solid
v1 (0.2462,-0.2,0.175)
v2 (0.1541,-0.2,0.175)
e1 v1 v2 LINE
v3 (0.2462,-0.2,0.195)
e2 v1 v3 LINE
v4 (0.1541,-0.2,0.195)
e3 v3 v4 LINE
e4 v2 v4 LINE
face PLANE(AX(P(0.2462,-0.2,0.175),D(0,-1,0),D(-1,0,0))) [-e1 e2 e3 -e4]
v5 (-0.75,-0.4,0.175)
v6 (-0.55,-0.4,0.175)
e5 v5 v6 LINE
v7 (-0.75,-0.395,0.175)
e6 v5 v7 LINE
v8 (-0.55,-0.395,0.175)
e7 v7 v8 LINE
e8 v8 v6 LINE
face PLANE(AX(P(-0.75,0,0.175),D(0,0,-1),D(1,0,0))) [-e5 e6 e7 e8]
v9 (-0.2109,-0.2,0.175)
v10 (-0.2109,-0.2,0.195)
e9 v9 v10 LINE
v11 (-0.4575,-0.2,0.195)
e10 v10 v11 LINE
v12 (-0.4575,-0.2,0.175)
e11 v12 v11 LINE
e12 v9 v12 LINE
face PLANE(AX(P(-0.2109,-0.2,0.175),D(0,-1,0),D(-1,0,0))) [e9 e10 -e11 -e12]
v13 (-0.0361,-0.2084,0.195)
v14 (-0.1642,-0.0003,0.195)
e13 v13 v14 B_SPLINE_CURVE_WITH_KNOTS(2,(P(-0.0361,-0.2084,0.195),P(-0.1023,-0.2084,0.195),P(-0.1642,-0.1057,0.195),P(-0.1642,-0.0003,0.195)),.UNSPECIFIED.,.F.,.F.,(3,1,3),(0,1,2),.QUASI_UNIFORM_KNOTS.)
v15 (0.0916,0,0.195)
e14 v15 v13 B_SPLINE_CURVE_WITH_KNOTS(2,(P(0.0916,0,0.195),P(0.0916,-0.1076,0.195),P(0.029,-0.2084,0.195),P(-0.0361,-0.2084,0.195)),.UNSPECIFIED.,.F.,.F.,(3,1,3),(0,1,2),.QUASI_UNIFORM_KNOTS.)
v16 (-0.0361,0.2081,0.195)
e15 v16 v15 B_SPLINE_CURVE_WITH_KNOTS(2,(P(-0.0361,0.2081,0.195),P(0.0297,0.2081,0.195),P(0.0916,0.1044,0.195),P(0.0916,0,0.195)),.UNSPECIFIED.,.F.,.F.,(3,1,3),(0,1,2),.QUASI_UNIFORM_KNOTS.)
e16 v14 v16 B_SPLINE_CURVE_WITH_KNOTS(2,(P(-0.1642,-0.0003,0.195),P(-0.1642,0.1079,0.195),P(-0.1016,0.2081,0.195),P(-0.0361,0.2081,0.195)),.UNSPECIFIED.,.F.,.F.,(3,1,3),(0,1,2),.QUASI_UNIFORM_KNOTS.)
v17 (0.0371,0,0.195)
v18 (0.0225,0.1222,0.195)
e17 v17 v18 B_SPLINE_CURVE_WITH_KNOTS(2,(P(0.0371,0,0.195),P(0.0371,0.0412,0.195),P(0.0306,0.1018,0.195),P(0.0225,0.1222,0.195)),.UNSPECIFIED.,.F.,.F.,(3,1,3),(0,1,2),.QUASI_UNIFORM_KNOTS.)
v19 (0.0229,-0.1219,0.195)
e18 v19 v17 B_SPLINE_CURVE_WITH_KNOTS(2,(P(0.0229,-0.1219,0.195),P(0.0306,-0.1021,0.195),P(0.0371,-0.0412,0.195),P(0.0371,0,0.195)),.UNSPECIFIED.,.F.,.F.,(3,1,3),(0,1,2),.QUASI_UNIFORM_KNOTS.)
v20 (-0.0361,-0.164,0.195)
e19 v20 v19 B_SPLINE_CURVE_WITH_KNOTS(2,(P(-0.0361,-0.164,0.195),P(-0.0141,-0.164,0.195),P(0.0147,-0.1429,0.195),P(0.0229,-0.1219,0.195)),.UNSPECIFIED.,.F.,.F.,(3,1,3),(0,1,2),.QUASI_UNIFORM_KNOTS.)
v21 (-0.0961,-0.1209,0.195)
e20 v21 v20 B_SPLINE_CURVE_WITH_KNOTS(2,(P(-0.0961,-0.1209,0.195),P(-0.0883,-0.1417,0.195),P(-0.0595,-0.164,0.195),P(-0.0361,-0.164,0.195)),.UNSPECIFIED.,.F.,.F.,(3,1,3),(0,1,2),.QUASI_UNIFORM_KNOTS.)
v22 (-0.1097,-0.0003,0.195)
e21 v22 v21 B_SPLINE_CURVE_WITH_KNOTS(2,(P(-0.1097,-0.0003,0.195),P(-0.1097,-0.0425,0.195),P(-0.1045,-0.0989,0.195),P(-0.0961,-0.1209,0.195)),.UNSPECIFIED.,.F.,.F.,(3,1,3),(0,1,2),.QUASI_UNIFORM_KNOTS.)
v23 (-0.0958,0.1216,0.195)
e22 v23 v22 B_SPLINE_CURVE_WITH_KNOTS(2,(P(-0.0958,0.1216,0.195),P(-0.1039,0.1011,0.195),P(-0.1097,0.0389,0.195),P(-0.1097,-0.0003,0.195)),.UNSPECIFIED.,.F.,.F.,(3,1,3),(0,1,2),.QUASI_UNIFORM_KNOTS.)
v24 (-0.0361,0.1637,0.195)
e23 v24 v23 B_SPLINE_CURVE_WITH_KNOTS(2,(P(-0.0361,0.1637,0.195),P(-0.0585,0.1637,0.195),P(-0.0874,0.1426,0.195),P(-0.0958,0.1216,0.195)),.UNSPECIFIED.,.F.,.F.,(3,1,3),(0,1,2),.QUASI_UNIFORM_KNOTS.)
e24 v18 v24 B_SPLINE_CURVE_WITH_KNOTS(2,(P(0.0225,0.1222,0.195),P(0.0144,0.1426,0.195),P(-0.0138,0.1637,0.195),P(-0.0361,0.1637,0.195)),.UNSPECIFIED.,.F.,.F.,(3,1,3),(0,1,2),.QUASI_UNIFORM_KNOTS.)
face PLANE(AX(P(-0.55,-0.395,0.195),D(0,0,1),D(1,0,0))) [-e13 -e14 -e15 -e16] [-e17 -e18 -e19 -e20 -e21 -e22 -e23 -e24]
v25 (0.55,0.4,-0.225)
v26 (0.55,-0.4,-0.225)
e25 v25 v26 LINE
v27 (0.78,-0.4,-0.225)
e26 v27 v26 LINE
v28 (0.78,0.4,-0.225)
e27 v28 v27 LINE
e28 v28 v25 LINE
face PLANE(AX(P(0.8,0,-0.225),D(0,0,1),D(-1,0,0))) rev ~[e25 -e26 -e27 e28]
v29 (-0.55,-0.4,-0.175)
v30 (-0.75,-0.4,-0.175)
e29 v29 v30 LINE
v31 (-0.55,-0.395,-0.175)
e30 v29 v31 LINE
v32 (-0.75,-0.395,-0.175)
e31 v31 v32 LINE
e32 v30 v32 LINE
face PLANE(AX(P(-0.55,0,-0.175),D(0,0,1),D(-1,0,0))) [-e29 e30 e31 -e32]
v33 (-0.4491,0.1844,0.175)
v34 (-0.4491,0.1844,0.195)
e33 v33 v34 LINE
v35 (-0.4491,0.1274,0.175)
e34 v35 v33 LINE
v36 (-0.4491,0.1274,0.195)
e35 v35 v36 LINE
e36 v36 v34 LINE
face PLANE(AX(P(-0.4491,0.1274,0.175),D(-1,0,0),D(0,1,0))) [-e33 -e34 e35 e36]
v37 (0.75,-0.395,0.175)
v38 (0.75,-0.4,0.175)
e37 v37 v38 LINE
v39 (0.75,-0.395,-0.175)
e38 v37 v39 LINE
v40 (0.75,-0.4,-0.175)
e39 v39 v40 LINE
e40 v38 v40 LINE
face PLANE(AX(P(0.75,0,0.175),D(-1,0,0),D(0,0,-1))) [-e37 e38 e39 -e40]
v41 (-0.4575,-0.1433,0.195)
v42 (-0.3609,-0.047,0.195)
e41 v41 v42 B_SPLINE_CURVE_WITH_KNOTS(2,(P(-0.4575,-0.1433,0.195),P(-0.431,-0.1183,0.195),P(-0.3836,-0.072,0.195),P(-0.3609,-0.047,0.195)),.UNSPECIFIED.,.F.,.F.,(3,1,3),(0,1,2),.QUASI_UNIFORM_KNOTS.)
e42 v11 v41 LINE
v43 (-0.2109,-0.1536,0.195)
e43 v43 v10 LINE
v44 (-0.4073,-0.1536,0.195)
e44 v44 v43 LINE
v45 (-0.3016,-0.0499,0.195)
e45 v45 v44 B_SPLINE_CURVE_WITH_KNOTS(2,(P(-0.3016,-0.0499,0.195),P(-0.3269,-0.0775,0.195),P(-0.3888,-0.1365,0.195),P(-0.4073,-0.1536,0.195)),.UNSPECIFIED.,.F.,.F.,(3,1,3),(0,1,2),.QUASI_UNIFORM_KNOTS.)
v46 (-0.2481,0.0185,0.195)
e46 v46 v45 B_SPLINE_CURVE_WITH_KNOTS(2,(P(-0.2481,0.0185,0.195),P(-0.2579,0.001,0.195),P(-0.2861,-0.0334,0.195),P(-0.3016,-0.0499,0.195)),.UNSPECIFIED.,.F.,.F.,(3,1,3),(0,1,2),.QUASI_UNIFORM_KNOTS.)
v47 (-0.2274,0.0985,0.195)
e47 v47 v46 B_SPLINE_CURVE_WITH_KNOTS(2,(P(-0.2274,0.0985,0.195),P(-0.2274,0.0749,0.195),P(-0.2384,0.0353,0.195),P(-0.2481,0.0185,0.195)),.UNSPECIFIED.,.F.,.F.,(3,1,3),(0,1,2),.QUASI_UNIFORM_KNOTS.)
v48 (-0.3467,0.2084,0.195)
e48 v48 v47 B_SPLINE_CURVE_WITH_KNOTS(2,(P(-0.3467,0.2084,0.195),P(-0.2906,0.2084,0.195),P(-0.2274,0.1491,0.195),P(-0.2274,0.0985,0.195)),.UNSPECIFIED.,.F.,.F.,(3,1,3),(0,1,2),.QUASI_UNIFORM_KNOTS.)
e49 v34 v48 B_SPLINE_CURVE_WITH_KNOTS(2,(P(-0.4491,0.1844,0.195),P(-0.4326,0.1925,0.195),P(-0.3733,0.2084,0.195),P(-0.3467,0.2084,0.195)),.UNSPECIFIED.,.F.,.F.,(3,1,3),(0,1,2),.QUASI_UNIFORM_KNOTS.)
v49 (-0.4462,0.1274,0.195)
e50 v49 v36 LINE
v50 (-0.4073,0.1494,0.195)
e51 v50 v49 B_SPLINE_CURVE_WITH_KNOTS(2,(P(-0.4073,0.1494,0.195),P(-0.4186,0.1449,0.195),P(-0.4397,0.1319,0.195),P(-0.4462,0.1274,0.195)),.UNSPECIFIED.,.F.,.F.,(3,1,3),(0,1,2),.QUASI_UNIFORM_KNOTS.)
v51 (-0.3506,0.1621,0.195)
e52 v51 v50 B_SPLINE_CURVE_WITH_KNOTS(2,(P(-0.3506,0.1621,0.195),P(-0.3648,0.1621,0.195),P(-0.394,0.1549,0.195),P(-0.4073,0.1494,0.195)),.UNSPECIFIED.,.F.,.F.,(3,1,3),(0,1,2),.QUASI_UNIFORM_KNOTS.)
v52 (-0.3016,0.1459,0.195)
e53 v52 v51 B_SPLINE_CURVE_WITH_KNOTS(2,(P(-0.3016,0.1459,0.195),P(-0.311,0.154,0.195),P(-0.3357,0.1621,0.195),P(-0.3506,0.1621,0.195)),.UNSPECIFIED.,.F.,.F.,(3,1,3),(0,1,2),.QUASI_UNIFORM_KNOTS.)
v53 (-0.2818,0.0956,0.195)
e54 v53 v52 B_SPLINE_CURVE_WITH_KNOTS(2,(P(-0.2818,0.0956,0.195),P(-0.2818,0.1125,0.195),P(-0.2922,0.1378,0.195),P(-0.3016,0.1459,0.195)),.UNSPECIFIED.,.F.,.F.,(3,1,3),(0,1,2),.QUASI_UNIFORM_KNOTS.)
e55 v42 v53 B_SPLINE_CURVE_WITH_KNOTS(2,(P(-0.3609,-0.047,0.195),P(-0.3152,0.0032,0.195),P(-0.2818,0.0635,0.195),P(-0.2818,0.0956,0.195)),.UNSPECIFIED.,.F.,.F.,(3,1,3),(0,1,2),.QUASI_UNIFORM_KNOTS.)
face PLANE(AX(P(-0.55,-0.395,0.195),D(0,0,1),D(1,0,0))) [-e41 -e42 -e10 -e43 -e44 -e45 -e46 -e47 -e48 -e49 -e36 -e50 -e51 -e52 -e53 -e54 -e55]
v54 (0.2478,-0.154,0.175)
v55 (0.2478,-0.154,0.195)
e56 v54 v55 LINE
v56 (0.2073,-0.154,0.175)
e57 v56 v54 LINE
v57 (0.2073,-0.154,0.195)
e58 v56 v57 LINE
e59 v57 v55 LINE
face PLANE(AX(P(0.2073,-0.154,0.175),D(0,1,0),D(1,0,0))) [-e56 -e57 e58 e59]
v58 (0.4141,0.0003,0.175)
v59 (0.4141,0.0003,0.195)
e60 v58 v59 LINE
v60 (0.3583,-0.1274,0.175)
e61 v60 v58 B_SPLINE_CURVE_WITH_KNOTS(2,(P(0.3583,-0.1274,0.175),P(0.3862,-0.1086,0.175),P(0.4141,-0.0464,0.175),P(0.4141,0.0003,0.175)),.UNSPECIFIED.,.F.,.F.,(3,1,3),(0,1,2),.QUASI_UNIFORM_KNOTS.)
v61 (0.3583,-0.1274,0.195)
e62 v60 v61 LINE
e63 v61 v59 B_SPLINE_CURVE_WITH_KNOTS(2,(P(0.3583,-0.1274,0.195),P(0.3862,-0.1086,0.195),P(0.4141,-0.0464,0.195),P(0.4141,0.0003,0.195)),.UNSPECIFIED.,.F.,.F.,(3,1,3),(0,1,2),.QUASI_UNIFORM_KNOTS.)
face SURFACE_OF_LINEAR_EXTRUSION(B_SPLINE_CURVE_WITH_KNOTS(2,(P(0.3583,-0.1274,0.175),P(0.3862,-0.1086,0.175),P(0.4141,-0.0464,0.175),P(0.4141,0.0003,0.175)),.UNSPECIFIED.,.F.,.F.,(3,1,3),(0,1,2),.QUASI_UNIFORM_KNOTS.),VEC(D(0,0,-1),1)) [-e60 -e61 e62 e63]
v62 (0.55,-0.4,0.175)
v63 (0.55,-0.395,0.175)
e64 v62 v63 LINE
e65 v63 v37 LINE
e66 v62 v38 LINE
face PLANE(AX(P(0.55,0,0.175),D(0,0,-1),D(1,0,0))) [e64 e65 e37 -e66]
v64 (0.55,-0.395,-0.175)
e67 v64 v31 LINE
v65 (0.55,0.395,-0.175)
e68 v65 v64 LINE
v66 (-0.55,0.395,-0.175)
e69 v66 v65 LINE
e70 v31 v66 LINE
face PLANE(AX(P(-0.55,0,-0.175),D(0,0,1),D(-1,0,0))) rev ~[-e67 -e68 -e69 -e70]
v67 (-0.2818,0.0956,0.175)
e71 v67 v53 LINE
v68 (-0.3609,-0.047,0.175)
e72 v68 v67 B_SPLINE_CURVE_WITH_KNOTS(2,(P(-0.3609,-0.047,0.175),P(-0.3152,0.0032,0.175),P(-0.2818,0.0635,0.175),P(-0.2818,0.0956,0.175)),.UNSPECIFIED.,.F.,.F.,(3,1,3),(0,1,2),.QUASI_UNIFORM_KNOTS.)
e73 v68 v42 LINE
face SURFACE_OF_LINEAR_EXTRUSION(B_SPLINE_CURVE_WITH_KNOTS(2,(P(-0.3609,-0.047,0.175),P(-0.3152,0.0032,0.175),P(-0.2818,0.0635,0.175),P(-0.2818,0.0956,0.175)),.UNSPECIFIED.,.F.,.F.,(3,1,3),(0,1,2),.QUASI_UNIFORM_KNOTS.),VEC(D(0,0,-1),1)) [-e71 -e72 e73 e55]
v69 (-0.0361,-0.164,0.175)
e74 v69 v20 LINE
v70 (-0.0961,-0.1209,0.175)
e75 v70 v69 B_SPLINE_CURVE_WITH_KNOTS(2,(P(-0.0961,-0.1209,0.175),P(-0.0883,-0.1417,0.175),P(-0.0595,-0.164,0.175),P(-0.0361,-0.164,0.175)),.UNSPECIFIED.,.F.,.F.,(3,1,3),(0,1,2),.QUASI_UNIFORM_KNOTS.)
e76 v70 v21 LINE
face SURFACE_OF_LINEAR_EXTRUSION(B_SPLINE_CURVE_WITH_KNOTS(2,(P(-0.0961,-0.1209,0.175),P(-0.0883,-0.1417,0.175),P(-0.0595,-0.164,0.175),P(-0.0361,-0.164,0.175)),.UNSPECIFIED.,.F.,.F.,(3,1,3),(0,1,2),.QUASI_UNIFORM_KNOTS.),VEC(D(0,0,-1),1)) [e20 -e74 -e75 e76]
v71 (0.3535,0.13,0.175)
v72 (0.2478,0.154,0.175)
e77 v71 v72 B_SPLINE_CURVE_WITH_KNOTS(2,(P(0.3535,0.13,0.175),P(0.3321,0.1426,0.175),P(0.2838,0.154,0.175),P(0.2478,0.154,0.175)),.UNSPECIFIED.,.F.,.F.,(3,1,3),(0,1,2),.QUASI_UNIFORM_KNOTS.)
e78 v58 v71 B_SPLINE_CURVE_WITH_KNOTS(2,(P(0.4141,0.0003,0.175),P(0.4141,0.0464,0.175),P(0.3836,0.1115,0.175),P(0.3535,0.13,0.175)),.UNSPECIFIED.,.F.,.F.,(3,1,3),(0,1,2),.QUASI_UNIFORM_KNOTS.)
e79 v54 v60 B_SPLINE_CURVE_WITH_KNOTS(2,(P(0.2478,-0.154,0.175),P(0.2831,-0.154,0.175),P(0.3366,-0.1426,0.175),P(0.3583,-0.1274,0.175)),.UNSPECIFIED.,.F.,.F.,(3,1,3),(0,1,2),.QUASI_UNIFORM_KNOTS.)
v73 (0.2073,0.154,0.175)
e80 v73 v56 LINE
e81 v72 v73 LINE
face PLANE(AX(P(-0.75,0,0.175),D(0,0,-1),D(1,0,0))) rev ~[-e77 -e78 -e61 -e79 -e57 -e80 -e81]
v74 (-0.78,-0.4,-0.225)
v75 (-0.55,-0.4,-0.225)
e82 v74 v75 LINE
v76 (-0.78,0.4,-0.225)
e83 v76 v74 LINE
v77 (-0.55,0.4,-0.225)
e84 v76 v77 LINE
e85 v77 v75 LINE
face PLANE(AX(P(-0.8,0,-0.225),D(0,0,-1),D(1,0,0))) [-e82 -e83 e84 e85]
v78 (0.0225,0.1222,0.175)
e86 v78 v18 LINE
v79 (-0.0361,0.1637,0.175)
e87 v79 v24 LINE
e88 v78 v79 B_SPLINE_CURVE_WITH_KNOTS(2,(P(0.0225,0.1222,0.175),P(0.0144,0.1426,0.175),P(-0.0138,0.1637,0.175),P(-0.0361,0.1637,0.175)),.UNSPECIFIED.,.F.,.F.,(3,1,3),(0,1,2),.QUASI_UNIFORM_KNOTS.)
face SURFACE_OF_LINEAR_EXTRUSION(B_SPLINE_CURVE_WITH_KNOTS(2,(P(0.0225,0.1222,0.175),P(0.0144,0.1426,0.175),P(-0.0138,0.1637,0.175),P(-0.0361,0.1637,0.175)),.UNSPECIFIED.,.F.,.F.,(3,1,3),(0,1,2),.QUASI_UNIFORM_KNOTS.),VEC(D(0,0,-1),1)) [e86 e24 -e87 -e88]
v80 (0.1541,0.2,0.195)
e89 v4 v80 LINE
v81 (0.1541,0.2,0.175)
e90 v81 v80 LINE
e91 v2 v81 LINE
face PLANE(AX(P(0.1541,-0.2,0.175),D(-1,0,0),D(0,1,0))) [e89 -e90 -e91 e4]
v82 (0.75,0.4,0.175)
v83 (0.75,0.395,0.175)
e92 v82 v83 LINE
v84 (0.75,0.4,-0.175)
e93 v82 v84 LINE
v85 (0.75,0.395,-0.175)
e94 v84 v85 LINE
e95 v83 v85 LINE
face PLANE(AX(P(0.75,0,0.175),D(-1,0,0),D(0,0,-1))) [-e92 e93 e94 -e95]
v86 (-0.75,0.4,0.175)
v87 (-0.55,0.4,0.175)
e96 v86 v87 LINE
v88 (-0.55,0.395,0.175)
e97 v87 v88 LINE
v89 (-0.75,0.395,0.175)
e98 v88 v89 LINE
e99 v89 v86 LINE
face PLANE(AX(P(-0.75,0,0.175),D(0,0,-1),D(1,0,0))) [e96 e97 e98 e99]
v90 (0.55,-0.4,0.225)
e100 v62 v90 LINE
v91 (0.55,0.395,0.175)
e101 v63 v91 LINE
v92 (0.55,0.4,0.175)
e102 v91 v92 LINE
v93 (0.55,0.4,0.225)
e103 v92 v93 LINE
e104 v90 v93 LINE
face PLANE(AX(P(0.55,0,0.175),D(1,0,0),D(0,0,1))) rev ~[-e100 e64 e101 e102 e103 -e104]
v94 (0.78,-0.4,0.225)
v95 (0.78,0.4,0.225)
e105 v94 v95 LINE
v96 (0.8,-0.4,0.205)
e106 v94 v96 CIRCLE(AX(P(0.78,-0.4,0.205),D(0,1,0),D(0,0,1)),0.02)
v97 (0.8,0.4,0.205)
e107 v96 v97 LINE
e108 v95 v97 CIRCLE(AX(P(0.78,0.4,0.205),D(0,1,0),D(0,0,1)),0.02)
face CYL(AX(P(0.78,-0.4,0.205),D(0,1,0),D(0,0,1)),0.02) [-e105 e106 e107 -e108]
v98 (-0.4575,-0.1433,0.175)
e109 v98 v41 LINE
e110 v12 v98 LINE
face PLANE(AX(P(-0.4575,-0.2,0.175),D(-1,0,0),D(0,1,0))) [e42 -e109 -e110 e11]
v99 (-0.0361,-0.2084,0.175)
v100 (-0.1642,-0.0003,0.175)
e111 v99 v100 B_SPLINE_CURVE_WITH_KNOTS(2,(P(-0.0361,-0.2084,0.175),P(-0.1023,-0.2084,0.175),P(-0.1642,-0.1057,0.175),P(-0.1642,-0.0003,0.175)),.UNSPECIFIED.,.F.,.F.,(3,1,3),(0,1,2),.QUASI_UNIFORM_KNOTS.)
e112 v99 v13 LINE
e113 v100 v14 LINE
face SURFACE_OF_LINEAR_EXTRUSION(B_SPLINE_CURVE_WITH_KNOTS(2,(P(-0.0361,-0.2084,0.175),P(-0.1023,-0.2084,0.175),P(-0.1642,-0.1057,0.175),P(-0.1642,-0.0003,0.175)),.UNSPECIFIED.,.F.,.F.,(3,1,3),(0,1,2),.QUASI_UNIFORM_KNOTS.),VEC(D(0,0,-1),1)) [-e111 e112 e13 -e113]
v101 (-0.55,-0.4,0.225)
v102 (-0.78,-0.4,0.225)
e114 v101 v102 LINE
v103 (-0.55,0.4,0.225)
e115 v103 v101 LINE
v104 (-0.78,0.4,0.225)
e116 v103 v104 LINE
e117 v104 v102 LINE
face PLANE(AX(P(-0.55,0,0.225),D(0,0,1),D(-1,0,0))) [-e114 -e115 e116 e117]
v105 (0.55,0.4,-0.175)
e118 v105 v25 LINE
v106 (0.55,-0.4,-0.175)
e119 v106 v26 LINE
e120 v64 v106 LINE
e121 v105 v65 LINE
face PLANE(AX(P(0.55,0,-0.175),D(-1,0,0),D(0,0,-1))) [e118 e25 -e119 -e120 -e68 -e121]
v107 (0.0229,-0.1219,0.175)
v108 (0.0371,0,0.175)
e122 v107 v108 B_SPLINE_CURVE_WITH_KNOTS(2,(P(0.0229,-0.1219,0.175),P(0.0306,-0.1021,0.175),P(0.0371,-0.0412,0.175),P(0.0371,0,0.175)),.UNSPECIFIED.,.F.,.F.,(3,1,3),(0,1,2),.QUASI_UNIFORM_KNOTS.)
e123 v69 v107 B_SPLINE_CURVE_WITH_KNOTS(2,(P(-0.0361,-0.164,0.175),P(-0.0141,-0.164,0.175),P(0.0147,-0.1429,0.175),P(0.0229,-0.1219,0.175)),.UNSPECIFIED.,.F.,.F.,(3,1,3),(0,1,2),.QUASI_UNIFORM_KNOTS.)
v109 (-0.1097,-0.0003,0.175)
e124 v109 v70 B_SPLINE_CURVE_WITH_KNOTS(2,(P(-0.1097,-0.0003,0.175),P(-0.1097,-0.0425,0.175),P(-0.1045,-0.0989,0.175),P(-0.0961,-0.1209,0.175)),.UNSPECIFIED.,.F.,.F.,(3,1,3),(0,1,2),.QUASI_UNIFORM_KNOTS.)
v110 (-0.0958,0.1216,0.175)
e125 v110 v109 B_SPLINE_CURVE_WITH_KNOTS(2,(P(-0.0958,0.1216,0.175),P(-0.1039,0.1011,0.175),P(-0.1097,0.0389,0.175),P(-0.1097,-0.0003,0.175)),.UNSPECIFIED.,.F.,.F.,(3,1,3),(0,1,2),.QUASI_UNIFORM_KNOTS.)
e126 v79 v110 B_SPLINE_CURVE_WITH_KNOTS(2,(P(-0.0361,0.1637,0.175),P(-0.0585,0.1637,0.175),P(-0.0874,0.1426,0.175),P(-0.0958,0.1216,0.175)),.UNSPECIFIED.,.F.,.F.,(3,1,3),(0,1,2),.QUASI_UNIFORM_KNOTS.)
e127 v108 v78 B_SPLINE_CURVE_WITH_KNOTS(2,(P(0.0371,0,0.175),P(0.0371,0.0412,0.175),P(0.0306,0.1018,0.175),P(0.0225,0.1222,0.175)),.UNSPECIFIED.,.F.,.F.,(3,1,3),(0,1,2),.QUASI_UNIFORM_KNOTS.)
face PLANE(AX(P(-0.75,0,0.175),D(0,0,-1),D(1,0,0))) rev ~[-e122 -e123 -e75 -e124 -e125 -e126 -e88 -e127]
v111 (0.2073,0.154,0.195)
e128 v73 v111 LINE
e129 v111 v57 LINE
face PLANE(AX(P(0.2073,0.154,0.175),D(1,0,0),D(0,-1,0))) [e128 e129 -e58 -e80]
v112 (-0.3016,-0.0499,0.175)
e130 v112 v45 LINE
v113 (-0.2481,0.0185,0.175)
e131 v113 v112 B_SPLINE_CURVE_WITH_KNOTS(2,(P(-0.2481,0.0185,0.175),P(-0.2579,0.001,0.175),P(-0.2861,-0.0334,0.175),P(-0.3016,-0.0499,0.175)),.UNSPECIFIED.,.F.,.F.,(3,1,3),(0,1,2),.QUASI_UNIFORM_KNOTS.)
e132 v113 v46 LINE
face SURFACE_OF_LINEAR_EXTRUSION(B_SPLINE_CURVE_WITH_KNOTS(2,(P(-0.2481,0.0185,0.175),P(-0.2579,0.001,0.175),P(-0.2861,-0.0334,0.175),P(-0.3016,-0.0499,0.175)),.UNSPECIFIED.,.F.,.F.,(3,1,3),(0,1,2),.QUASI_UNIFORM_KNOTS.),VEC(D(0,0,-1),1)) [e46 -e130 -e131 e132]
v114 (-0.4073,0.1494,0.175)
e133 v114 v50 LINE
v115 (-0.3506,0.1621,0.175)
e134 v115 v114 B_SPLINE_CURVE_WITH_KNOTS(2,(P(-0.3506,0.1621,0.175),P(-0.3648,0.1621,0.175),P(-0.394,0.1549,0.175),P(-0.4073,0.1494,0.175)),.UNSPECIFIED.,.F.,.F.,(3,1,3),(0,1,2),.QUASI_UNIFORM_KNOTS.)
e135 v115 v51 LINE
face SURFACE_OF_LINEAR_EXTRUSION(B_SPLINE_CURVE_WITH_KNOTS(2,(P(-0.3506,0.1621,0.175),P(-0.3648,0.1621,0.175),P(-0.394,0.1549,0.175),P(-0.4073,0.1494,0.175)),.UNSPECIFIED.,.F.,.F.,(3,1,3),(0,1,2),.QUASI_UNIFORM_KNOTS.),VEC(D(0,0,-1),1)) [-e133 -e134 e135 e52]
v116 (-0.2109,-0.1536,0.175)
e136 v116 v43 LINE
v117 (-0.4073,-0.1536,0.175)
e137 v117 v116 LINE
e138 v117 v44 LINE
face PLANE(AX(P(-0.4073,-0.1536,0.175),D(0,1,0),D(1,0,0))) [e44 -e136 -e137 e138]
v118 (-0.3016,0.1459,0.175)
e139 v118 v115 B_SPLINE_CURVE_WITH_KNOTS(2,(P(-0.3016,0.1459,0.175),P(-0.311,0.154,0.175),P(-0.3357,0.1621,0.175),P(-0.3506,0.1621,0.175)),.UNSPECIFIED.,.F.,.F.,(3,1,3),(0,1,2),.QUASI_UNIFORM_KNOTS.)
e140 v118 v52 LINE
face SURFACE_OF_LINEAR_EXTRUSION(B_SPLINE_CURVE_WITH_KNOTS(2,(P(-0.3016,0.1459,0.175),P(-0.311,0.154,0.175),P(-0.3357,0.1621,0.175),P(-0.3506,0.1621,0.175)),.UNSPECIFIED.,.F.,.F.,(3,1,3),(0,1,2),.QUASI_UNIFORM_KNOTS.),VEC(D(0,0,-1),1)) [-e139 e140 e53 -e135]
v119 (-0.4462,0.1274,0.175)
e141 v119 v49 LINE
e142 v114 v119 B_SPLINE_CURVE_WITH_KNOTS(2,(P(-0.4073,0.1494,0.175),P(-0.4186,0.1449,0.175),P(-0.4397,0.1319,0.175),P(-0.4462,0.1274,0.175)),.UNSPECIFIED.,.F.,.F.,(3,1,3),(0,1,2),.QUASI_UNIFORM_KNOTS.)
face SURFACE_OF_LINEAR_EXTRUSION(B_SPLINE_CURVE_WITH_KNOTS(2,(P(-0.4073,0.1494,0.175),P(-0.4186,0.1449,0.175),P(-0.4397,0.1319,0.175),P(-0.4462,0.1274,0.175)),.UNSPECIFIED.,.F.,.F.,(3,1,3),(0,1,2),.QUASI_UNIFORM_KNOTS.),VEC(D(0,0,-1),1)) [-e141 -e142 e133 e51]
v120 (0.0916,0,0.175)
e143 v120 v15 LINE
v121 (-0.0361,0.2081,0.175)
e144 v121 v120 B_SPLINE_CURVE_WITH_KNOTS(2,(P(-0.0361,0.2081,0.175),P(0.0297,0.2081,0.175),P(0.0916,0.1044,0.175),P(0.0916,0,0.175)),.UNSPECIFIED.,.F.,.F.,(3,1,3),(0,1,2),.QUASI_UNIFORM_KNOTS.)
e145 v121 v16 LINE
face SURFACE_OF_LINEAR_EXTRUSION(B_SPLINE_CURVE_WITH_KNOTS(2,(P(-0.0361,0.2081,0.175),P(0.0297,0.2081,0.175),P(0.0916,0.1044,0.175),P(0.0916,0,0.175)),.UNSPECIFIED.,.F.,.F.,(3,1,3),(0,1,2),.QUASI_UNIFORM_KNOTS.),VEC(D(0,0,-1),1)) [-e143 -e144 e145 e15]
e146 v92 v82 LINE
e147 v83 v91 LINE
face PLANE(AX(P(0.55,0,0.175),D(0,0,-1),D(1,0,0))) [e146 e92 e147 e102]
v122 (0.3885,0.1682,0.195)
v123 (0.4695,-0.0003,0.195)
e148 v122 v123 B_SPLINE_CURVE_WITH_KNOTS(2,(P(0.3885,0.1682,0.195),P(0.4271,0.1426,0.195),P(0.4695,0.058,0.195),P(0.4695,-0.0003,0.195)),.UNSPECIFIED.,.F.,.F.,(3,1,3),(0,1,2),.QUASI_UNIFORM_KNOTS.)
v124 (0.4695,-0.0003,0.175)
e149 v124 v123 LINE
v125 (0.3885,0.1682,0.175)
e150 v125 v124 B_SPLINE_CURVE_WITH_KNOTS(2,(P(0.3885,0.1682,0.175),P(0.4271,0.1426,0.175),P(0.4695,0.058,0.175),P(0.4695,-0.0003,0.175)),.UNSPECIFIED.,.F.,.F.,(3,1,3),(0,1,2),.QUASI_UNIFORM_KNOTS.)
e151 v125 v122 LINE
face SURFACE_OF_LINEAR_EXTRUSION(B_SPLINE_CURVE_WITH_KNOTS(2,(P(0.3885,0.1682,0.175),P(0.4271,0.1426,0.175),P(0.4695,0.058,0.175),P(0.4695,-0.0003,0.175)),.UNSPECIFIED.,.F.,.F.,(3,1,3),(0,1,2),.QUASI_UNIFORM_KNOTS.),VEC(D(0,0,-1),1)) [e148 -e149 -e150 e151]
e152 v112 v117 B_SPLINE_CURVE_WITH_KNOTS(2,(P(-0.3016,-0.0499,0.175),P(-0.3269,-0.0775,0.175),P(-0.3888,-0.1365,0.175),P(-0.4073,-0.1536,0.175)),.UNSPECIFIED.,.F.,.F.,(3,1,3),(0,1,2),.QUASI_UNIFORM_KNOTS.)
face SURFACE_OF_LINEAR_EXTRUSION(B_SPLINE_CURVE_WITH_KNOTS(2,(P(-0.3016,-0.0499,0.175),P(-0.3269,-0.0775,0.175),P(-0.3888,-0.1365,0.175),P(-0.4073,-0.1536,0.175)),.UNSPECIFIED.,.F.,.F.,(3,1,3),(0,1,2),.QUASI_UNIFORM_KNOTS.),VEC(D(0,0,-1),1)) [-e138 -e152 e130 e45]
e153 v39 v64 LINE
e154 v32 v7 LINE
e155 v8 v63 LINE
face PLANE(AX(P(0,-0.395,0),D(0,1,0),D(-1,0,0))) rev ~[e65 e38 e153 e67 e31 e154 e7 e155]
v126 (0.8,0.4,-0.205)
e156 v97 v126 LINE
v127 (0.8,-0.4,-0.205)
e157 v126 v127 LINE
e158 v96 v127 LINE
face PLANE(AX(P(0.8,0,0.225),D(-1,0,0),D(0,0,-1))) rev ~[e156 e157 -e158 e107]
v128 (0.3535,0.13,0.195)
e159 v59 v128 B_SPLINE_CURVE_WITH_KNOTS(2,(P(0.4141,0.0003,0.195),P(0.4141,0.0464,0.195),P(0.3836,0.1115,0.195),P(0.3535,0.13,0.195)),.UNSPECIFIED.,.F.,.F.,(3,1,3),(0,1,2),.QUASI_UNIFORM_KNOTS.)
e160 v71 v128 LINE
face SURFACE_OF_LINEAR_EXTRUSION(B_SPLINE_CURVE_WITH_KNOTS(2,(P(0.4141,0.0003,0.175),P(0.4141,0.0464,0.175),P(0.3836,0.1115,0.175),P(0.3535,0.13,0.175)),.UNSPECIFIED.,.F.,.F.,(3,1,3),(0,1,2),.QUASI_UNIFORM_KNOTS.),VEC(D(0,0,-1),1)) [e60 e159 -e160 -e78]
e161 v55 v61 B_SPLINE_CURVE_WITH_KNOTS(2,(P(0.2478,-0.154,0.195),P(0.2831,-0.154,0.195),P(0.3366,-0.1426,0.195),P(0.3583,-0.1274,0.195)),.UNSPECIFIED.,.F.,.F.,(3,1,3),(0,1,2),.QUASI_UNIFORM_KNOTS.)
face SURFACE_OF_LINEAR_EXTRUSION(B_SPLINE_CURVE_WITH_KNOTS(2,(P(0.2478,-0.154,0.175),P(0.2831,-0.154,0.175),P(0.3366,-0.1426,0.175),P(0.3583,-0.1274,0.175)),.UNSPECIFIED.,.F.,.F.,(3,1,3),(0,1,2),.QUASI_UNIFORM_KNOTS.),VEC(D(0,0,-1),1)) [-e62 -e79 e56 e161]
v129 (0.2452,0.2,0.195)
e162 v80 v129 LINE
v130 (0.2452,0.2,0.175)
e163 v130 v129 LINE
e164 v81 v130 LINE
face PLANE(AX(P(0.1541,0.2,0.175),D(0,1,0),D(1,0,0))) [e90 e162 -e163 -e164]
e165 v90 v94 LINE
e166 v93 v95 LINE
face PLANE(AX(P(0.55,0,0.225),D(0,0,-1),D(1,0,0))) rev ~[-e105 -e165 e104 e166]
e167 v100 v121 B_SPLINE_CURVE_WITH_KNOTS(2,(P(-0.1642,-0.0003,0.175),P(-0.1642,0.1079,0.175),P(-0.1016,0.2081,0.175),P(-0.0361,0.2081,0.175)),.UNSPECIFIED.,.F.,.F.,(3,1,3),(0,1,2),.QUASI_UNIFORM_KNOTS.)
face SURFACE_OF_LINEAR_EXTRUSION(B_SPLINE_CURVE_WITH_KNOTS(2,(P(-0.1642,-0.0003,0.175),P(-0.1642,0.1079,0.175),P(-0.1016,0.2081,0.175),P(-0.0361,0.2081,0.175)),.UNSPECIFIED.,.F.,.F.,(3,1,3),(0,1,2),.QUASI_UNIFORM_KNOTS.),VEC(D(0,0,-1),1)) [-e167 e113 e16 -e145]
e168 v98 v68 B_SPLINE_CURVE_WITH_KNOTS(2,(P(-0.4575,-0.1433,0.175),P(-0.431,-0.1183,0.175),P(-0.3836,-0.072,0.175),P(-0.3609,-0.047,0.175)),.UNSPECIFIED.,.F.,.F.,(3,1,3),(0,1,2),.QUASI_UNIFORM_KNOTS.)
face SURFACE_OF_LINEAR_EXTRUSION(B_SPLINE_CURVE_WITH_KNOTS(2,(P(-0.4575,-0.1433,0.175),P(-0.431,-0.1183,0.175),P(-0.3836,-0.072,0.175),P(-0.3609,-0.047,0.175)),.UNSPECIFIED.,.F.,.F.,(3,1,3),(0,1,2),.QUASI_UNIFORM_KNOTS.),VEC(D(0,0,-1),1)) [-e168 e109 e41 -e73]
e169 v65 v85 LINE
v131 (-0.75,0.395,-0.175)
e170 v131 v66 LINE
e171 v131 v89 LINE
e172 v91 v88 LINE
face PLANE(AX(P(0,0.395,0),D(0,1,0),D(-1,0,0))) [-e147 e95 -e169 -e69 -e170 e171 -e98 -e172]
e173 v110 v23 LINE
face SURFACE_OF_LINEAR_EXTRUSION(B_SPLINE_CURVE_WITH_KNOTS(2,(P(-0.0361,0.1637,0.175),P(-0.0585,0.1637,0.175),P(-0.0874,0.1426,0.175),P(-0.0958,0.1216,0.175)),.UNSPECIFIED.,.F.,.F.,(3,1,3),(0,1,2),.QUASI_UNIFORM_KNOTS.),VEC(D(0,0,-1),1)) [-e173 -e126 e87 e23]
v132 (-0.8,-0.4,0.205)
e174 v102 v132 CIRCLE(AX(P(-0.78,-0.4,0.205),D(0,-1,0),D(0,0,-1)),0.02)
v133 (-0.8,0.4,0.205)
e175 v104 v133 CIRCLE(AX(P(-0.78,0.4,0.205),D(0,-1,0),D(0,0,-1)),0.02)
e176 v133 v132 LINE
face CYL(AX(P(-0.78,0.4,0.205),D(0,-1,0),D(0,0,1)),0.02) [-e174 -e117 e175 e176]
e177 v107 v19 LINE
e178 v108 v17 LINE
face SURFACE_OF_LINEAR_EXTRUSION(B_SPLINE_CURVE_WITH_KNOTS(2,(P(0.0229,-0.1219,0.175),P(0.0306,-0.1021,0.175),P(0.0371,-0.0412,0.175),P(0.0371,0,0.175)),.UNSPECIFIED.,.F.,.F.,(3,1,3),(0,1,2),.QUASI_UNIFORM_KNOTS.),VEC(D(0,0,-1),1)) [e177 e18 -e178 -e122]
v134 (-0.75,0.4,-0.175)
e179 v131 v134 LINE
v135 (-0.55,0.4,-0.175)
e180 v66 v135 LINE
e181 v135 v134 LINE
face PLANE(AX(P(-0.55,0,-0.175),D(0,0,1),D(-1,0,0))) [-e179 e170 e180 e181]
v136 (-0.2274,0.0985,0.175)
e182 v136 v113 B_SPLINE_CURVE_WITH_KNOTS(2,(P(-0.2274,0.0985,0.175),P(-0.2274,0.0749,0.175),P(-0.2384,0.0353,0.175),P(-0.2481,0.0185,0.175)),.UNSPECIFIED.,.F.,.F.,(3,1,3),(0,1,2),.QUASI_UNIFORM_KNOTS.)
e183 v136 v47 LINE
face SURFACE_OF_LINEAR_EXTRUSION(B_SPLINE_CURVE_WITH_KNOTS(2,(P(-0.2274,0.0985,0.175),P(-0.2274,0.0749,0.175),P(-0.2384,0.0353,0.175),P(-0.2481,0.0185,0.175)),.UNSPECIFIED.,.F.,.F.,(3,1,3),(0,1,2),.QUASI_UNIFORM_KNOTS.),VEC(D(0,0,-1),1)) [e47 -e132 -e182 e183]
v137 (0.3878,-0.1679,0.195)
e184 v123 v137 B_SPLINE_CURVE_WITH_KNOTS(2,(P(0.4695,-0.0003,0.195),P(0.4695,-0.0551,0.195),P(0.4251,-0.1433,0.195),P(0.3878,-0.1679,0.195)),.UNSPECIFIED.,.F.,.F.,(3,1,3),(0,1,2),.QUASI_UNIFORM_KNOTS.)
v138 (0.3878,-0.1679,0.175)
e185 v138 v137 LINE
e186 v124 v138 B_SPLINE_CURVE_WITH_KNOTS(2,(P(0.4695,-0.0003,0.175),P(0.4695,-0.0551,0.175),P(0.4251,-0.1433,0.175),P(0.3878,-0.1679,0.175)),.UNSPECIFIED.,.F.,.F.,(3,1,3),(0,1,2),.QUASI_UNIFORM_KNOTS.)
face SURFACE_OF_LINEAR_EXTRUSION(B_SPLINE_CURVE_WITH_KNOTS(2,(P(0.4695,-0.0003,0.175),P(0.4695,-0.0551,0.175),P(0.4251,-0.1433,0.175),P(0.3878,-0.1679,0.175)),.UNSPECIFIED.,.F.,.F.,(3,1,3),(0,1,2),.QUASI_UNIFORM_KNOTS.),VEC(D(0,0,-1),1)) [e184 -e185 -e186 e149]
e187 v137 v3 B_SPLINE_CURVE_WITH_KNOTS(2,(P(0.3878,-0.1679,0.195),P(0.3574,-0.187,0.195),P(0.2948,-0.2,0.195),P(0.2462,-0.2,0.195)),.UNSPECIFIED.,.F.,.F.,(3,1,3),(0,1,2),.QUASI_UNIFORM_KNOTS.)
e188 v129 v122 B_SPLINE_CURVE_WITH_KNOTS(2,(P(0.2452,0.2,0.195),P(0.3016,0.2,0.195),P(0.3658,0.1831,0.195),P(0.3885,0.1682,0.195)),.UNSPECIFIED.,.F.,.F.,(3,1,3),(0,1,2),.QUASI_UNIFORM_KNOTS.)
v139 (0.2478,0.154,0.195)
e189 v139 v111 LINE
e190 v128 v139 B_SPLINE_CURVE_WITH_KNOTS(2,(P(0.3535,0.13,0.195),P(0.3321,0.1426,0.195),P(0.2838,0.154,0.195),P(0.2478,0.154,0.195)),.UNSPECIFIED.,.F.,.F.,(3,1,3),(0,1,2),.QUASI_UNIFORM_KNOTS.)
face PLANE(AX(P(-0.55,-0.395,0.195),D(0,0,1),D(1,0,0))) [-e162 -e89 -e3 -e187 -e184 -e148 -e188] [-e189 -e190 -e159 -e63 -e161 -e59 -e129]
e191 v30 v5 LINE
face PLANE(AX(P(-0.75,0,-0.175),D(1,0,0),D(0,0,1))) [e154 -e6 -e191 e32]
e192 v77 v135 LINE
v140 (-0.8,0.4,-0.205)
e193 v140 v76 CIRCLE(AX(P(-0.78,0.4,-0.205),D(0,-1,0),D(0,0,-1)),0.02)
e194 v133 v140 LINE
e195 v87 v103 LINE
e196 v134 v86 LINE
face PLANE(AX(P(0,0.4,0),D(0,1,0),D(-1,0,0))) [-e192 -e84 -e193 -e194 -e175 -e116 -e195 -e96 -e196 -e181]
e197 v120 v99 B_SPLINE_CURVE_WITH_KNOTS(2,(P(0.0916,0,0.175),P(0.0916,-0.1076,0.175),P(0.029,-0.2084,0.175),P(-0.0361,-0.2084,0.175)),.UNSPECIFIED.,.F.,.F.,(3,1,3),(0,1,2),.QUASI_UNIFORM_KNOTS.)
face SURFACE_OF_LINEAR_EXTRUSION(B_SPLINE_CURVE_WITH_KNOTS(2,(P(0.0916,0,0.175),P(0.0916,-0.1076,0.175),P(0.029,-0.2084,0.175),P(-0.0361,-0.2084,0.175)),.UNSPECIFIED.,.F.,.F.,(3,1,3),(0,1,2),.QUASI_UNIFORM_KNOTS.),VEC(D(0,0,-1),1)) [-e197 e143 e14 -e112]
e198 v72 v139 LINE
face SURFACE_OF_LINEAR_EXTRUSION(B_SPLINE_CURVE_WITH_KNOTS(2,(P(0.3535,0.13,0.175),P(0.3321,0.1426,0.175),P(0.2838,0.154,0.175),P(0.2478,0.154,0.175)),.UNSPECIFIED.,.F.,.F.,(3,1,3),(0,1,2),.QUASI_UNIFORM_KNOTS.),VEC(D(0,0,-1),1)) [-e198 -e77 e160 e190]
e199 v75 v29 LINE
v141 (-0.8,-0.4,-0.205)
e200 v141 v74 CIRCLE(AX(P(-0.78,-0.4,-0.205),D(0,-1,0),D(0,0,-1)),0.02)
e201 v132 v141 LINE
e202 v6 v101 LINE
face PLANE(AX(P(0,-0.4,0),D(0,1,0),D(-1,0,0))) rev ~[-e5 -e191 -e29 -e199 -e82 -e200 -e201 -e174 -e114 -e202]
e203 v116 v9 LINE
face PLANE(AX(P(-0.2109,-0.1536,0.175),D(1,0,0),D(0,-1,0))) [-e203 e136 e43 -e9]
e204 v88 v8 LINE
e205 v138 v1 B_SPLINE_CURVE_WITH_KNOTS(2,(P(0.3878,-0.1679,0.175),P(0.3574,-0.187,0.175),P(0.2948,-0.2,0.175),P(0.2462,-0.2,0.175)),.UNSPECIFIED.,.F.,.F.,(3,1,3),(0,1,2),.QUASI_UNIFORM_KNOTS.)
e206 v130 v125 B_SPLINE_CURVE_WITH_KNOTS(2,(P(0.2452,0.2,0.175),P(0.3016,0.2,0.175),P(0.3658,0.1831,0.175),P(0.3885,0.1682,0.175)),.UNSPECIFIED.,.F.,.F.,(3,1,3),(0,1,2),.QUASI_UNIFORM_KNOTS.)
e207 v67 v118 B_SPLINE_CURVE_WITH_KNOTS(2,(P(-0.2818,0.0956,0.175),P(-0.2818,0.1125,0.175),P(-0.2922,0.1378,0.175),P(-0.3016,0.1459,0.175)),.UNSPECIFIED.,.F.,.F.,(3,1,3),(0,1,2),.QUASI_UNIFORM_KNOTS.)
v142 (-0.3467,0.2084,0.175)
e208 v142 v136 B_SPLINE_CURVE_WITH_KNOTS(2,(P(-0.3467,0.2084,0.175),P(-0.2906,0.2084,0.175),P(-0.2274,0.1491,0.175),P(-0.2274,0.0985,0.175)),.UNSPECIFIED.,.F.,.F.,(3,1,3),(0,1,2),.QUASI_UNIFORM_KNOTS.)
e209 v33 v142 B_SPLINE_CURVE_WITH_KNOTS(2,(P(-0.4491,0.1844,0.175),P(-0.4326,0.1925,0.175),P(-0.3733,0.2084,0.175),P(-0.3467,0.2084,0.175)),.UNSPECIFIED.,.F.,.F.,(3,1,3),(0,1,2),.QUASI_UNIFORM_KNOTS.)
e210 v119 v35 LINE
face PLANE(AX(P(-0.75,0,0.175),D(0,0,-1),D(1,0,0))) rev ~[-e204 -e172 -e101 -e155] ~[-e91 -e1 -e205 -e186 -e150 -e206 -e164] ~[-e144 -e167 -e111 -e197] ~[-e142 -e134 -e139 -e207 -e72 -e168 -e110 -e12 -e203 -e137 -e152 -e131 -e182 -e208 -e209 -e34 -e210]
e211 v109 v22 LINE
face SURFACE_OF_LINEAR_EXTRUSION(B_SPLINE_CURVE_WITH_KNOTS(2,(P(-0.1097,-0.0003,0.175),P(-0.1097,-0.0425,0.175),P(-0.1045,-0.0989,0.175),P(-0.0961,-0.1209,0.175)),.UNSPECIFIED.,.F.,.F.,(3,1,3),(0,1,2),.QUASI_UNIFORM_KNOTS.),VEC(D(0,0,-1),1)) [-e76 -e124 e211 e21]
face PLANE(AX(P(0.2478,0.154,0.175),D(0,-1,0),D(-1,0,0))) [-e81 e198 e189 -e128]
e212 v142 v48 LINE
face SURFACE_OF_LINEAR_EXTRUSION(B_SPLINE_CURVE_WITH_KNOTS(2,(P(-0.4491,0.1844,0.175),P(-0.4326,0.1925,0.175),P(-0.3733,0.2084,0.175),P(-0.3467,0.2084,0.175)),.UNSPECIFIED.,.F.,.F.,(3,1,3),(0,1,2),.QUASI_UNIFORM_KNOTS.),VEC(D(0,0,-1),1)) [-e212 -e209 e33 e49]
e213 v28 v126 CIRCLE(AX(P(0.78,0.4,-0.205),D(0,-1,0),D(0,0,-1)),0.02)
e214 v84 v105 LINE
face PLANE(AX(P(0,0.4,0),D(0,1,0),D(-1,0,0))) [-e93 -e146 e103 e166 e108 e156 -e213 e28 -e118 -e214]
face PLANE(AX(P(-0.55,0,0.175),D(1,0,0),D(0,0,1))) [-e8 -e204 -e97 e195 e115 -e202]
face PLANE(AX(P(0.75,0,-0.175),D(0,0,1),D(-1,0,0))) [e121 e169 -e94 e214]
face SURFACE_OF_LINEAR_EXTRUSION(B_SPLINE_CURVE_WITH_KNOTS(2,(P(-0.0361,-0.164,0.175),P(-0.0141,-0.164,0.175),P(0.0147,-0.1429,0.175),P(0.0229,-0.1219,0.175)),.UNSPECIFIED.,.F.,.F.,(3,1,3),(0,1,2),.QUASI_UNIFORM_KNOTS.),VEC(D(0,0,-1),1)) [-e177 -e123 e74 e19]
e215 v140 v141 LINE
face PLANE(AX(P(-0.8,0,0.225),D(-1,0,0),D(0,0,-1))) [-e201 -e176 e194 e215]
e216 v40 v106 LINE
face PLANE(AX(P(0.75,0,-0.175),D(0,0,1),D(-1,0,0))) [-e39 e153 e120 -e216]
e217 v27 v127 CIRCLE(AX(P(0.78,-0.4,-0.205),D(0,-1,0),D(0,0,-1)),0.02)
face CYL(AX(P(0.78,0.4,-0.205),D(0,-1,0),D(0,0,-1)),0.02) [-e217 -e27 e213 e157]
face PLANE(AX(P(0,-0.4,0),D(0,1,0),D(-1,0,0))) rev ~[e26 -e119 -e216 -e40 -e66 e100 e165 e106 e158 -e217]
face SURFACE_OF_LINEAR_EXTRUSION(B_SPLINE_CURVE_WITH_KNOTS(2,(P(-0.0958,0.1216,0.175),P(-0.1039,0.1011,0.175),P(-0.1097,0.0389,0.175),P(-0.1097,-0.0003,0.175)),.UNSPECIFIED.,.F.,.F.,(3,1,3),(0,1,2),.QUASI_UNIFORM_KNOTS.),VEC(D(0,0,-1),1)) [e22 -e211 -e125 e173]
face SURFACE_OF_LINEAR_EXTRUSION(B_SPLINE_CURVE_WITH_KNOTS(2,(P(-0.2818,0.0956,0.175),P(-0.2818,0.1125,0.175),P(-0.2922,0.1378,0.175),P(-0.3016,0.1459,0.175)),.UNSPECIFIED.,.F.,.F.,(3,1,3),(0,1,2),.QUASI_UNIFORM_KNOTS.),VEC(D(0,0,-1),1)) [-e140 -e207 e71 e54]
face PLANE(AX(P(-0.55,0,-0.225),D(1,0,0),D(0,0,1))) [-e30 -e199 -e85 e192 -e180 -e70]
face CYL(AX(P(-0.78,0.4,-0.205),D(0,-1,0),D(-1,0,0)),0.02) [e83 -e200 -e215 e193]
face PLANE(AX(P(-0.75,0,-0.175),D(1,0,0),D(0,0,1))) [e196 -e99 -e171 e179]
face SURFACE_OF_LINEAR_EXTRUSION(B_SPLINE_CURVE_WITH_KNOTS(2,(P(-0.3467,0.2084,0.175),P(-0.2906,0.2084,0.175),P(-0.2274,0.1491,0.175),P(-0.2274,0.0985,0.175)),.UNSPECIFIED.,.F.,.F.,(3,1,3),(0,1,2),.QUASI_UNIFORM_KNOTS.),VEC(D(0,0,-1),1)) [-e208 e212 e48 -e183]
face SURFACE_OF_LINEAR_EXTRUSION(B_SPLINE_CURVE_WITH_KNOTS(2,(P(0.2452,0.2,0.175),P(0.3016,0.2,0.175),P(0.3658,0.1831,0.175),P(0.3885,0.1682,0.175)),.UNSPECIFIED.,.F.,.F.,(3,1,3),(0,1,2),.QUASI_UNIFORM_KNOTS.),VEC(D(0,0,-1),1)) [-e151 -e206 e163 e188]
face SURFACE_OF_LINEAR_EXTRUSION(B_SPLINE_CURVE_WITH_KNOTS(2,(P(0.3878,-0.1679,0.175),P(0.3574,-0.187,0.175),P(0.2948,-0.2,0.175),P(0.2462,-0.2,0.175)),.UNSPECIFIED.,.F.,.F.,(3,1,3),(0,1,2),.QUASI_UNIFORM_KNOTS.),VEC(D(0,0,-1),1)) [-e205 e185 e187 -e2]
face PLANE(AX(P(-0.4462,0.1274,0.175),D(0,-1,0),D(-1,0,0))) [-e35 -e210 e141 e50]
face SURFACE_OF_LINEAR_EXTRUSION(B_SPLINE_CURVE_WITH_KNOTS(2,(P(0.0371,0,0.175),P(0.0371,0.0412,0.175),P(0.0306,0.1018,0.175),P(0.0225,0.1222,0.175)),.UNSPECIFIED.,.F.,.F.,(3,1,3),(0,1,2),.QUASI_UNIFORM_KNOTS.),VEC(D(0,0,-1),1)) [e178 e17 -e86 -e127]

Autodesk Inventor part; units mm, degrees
ref_plane "YZ Plane" through (0, 0, 0) normal (1, 0, 0) x (0, 1, 0)
ref_plane "XZ Plane" through (0, 0, 0) normal (0, 1, 0) x (-1, 0, 0)
ref_plane "XY Plane" through (0, 0, 0) normal (0, 0, 1) x (1, 0, 0)
sketch "Sketch1" plane through (0, 0, 0) normal (0, 1, 0) x (-1, 0, 0)
  line L0 (0.75, 0.175) -> (-0.75, 0.175)
  line L1 (-0.75, 0.175) -> (-0.75, -0.175)
  line L2 (-0.75, -0.175) -> (0.75, -0.175)
  line L3 (0.75, -0.175) -> (0.75, 0.175)
  line L4 (0.55, 0.175) -> (0.55, 0.225)
  line L5 (0.55, 0.225) -> (0.8, 0.225)
  line L6 (0.8, 0.225) -> (0.8, -0.225)
  line L7 (0.8, -0.225) -> (0.55, -0.225)
  line L8 (0.55, -0.225) -> (0.55, -0.175)
  line L9 (-0.55, 0.175) -> (-0.55, 0.225)
  line L10 (-0.55, 0.225) -> (-0.8, 0.225)
  line L11 (-0.8, 0.225) -> (-0.8, -0.225)
  line L12 (-0.8, -0.225) -> (-0.55, -0.225)
  line L13 (-0.55, -0.175) -> (-0.55, -0.225)
  line L14 (0.55, 0.175) -> (-0.55, 0.175)
  point P0 (0, 0)
  point P1 (0, 0.175)
  point P2 (0.75, 0)
  dimension "d0" = 1.6
  dimension "d1" = 0.05
  dimension "d2" = 0.05
  dimension "d3" = 0.45
  dimension "d4" = 0.25
extrude "Extrusion1" add sketch "Sketch1" along normal mid plane 0.8 contours L0 L4 L5 L6 L7 L8 L2 L3 | L0 L1 L2 L13 L12 L11 L10 L9
extrude "Extrusion2" add sketch "Sketch1" along normal mid plane 0.79 contours L3 L2 L1 L0
sketch "Sketch2" plane through (-0.55, -0.395, 0.175) normal (0, 0, 1) x (1, 0, 0)
  line L0 (0, 0) -> (0, 0.79) projected
  line L1 (1.1, 0) -> (0, 0) projected
  line L2 (1.1, 0) -> (1.1, 0.79) projected
  line L3 (0, 0.79) -> (1.1, 0.79) projected
  line L4 (0, 0.395) -> (1.1, 0.395) construction
  line L5 (0.3391, 0.195) -> (0.0925, 0.195)
  line L6 (0.0925, 0.195) -> (0.0925, 0.2517)
  spline S0 degree 2 poles (0.0925, 0.2517) (0.119, 0.2767) (0.1664, 0.323) (0.1891, 0.348) knots 0 0 0 1 2 2 2
  spline S1 degree 2 poles (0.1891, 0.348) (0.2348, 0.3982) (0.2682, 0.4585) (0.2682, 0.4906) knots 0 0 0 1 2 2 2
  spline S2 degree 2 poles (0.2682, 0.4906) (0.2682, 0.5075) (0.2578, 0.5328) (0.2484, 0.5409) knots 0 0 0 1 2 2 2
  spline S3 degree 2 poles (0.2484, 0.5409) (0.239, 0.549) (0.2143, 0.5571) (0.1994, 0.5571) knots 0 0 0 1 2 2 2
  spline S4 degree 2 poles (0.1994, 0.5571) (0.1852, 0.5571) (0.156, 0.5499) (0.1427, 0.5444) knots 0 0 0 1 2 2 2
  spline S5 degree 2 poles (0.1427, 0.5444) (0.1314, 0.5399) (0.1103, 0.5269) (0.1038, 0.5224) knots 0 0 0 1 2 2 2
  line L7 (0.1038, 0.5224) -> (0.1009, 0.5224)
  line L8 (0.1009, 0.5224) -> (0.1009, 0.5794)
  spline S6 degree 2 poles (0.1009, 0.5794) (0.1174, 0.5875) (0.1767, 0.6034) (0.2033, 0.6034) knots 0 0 0 1 2 2 2
  spline S7 degree 2 poles (0.2033, 0.6034) (0.2594, 0.6034) (0.3226, 0.5441) (0.3226, 0.4935) knots 0 0 0 1 2 2 2
  spline S8 degree 2 poles (0.3226, 0.4935) (0.3226, 0.4699) (0.3116, 0.4303) (0.3019, 0.4135) knots 0 0 0 1 2 2 2
  spline S9 degree 2 poles (0.3019, 0.4135) (0.2921, 0.396) (0.2639, 0.3616) (0.2484, 0.3451) knots 0 0 0 1 2 2 2
  spline S10 degree 2 poles (0.2484, 0.3451) (0.2231, 0.3175) (0.1612, 0.2585) (0.1427, 0.2414) knots 0 0 0 1 2 2 2
  line L9 (0.1427, 0.2414) -> (0.3391, 0.2414)
  line L10 (0.3391, 0.2414) -> (0.3391, 0.195)
  spline S11 degree 2 poles (0.6416, 0.395) (0.6416, 0.2874) (0.579, 0.1866) (0.5139, 0.1866) knots 0 0 0 1 2 2 2
  spline S12 degree 2 poles (0.5139, 0.1866) (0.4477, 0.1866) (0.3858, 0.2893) (0.3858, 0.3947) knots 0 0 0 1 2 2 2
  spline S13 degree 2 poles (0.3858, 0.3947) (0.3858, 0.5029) (0.4484, 0.6031) (0.5139, 0.6031) knots 0 0 0 1 2 2 2
  spline S14 degree 2 poles (0.5139, 0.6031) (0.5797, 0.6031) (0.6416, 0.4994) (0.6416, 0.395) knots 0 0 0 1 2 2 2
  spline S15 degree 2 poles (0.5729, 0.2731) (0.5806, 0.2929) (0.5871, 0.3538) (0.5871, 0.395) knots 0 0 0 1 2 2 2
  spline S16 degree 2 poles (0.5871, 0.395) (0.5871, 0.4362) (0.5806, 0.4968) (0.5725, 0.5172) knots 0 0 0 1 2 2 2
  spline S17 degree 2 poles (0.5725, 0.5172) (0.5644, 0.5376) (0.5362, 0.5587) (0.5139, 0.5587) knots 0 0 0 1 2 2 2
  spline S18 degree 2 poles (0.5139, 0.5587) (0.4915, 0.5587) (0.4626, 0.5376) (0.4542, 0.5166) knots 0 0 0 1 2 2 2
  spline S19 degree 2 poles (0.4542, 0.5166) (0.4461, 0.4961) (0.4403, 0.4339) (0.4403, 0.3947) knots 0 0 0 1 2 2 2
  spline S20 degree 2 poles (0.4403, 0.3947) (0.4403, 0.3525) (0.4455, 0.2961) (0.4539, 0.2741) knots 0 0 0 1 2 2 2
  spline S21 degree 2 poles (0.4539, 0.2741) (0.4617, 0.2533) (0.4905, 0.231) (0.5139, 0.231) knots 0 0 0 1 2 2 2
  spline S22 degree 2 poles (0.5139, 0.231) (0.5359, 0.231) (0.5647, 0.2521) (0.5729, 0.2731) knots 0 0 0 1 2 2 2
  spline S23 degree 2 poles (1.0195, 0.3947) (1.0195, 0.3399) (0.9751, 0.2517) (0.9378, 0.2271) knots 0 0 0 1 2 2 2
  spline S24 degree 2 poles (0.9378, 0.2271) (0.9074, 0.208) (0.8448, 0.195) (0.7962, 0.195) knots 0 0 0 1 2 2 2
  line L11 (0.7962, 0.195) -> (0.7041, 0.195)
  line L12 (0.7041, 0.195) -> (0.7041, 0.595)
  line L13 (0.7041, 0.595) -> (0.7952, 0.595)
  spline S25 degree 2 poles (0.7952, 0.595) (0.8516, 0.595) (0.9158, 0.5781) (0.9385, 0.5632) knots 0 0 0 1 2 2 2
  spline S26 degree 2 poles (0.9385, 0.5632) (0.9771, 0.5376) (1.0195, 0.453) (1.0195, 0.3947) knots 0 0 0 1 2 2 2
  spline S27 degree 2 poles (0.9641, 0.3953) (0.9641, 0.4414) (0.9336, 0.5065) (0.9035, 0.525) knots 0 0 0 1 2 2 2
  spline S28 degree 2 poles (0.9035, 0.525) (0.8821, 0.5376) (0.8338, 0.549) (0.7978, 0.549) knots 0 0 0 1 2 2 2
  line L14 (0.7978, 0.549) -> (0.7573, 0.549)
  line L15 (0.7573, 0.549) -> (0.7573, 0.241)
  line L16 (0.7573, 0.241) -> (0.7978, 0.241)
  spline S29 degree 2 poles (0.7978, 0.241) (0.8331, 0.241) (0.8866, 0.2524) (0.9083, 0.2676) knots 0 0 0 1 2 2 2
  spline S30 degree 2 poles (0.9083, 0.2676) (0.9362, 0.2864) (0.9641, 0.3486) (0.9641, 0.3953) knots 0 0 0 1 2 2 2
  point P0 (0.55, 0.395)
extrude "Extrusion3" add sketch "Sketch2" along normal blind 0.02 contours L5 L6 S0 S1 S2 S3 S4 S5 L7 L8 S6 S7 S8 S9 S10 L9 L10 | S11 S12 S13 S14 | S23 S24 L11 L12 L13 S25 S26
fillet "Fillet1" radius 0.02 4 edges at (-0.8, 0, 0.225) (-0.8, 0, -0.225) (0.8, 0, 0.225) (0.8, 0, -0.225)
equation "\"d2\" = d1"
properties part number "21-1001" material "Copper"
